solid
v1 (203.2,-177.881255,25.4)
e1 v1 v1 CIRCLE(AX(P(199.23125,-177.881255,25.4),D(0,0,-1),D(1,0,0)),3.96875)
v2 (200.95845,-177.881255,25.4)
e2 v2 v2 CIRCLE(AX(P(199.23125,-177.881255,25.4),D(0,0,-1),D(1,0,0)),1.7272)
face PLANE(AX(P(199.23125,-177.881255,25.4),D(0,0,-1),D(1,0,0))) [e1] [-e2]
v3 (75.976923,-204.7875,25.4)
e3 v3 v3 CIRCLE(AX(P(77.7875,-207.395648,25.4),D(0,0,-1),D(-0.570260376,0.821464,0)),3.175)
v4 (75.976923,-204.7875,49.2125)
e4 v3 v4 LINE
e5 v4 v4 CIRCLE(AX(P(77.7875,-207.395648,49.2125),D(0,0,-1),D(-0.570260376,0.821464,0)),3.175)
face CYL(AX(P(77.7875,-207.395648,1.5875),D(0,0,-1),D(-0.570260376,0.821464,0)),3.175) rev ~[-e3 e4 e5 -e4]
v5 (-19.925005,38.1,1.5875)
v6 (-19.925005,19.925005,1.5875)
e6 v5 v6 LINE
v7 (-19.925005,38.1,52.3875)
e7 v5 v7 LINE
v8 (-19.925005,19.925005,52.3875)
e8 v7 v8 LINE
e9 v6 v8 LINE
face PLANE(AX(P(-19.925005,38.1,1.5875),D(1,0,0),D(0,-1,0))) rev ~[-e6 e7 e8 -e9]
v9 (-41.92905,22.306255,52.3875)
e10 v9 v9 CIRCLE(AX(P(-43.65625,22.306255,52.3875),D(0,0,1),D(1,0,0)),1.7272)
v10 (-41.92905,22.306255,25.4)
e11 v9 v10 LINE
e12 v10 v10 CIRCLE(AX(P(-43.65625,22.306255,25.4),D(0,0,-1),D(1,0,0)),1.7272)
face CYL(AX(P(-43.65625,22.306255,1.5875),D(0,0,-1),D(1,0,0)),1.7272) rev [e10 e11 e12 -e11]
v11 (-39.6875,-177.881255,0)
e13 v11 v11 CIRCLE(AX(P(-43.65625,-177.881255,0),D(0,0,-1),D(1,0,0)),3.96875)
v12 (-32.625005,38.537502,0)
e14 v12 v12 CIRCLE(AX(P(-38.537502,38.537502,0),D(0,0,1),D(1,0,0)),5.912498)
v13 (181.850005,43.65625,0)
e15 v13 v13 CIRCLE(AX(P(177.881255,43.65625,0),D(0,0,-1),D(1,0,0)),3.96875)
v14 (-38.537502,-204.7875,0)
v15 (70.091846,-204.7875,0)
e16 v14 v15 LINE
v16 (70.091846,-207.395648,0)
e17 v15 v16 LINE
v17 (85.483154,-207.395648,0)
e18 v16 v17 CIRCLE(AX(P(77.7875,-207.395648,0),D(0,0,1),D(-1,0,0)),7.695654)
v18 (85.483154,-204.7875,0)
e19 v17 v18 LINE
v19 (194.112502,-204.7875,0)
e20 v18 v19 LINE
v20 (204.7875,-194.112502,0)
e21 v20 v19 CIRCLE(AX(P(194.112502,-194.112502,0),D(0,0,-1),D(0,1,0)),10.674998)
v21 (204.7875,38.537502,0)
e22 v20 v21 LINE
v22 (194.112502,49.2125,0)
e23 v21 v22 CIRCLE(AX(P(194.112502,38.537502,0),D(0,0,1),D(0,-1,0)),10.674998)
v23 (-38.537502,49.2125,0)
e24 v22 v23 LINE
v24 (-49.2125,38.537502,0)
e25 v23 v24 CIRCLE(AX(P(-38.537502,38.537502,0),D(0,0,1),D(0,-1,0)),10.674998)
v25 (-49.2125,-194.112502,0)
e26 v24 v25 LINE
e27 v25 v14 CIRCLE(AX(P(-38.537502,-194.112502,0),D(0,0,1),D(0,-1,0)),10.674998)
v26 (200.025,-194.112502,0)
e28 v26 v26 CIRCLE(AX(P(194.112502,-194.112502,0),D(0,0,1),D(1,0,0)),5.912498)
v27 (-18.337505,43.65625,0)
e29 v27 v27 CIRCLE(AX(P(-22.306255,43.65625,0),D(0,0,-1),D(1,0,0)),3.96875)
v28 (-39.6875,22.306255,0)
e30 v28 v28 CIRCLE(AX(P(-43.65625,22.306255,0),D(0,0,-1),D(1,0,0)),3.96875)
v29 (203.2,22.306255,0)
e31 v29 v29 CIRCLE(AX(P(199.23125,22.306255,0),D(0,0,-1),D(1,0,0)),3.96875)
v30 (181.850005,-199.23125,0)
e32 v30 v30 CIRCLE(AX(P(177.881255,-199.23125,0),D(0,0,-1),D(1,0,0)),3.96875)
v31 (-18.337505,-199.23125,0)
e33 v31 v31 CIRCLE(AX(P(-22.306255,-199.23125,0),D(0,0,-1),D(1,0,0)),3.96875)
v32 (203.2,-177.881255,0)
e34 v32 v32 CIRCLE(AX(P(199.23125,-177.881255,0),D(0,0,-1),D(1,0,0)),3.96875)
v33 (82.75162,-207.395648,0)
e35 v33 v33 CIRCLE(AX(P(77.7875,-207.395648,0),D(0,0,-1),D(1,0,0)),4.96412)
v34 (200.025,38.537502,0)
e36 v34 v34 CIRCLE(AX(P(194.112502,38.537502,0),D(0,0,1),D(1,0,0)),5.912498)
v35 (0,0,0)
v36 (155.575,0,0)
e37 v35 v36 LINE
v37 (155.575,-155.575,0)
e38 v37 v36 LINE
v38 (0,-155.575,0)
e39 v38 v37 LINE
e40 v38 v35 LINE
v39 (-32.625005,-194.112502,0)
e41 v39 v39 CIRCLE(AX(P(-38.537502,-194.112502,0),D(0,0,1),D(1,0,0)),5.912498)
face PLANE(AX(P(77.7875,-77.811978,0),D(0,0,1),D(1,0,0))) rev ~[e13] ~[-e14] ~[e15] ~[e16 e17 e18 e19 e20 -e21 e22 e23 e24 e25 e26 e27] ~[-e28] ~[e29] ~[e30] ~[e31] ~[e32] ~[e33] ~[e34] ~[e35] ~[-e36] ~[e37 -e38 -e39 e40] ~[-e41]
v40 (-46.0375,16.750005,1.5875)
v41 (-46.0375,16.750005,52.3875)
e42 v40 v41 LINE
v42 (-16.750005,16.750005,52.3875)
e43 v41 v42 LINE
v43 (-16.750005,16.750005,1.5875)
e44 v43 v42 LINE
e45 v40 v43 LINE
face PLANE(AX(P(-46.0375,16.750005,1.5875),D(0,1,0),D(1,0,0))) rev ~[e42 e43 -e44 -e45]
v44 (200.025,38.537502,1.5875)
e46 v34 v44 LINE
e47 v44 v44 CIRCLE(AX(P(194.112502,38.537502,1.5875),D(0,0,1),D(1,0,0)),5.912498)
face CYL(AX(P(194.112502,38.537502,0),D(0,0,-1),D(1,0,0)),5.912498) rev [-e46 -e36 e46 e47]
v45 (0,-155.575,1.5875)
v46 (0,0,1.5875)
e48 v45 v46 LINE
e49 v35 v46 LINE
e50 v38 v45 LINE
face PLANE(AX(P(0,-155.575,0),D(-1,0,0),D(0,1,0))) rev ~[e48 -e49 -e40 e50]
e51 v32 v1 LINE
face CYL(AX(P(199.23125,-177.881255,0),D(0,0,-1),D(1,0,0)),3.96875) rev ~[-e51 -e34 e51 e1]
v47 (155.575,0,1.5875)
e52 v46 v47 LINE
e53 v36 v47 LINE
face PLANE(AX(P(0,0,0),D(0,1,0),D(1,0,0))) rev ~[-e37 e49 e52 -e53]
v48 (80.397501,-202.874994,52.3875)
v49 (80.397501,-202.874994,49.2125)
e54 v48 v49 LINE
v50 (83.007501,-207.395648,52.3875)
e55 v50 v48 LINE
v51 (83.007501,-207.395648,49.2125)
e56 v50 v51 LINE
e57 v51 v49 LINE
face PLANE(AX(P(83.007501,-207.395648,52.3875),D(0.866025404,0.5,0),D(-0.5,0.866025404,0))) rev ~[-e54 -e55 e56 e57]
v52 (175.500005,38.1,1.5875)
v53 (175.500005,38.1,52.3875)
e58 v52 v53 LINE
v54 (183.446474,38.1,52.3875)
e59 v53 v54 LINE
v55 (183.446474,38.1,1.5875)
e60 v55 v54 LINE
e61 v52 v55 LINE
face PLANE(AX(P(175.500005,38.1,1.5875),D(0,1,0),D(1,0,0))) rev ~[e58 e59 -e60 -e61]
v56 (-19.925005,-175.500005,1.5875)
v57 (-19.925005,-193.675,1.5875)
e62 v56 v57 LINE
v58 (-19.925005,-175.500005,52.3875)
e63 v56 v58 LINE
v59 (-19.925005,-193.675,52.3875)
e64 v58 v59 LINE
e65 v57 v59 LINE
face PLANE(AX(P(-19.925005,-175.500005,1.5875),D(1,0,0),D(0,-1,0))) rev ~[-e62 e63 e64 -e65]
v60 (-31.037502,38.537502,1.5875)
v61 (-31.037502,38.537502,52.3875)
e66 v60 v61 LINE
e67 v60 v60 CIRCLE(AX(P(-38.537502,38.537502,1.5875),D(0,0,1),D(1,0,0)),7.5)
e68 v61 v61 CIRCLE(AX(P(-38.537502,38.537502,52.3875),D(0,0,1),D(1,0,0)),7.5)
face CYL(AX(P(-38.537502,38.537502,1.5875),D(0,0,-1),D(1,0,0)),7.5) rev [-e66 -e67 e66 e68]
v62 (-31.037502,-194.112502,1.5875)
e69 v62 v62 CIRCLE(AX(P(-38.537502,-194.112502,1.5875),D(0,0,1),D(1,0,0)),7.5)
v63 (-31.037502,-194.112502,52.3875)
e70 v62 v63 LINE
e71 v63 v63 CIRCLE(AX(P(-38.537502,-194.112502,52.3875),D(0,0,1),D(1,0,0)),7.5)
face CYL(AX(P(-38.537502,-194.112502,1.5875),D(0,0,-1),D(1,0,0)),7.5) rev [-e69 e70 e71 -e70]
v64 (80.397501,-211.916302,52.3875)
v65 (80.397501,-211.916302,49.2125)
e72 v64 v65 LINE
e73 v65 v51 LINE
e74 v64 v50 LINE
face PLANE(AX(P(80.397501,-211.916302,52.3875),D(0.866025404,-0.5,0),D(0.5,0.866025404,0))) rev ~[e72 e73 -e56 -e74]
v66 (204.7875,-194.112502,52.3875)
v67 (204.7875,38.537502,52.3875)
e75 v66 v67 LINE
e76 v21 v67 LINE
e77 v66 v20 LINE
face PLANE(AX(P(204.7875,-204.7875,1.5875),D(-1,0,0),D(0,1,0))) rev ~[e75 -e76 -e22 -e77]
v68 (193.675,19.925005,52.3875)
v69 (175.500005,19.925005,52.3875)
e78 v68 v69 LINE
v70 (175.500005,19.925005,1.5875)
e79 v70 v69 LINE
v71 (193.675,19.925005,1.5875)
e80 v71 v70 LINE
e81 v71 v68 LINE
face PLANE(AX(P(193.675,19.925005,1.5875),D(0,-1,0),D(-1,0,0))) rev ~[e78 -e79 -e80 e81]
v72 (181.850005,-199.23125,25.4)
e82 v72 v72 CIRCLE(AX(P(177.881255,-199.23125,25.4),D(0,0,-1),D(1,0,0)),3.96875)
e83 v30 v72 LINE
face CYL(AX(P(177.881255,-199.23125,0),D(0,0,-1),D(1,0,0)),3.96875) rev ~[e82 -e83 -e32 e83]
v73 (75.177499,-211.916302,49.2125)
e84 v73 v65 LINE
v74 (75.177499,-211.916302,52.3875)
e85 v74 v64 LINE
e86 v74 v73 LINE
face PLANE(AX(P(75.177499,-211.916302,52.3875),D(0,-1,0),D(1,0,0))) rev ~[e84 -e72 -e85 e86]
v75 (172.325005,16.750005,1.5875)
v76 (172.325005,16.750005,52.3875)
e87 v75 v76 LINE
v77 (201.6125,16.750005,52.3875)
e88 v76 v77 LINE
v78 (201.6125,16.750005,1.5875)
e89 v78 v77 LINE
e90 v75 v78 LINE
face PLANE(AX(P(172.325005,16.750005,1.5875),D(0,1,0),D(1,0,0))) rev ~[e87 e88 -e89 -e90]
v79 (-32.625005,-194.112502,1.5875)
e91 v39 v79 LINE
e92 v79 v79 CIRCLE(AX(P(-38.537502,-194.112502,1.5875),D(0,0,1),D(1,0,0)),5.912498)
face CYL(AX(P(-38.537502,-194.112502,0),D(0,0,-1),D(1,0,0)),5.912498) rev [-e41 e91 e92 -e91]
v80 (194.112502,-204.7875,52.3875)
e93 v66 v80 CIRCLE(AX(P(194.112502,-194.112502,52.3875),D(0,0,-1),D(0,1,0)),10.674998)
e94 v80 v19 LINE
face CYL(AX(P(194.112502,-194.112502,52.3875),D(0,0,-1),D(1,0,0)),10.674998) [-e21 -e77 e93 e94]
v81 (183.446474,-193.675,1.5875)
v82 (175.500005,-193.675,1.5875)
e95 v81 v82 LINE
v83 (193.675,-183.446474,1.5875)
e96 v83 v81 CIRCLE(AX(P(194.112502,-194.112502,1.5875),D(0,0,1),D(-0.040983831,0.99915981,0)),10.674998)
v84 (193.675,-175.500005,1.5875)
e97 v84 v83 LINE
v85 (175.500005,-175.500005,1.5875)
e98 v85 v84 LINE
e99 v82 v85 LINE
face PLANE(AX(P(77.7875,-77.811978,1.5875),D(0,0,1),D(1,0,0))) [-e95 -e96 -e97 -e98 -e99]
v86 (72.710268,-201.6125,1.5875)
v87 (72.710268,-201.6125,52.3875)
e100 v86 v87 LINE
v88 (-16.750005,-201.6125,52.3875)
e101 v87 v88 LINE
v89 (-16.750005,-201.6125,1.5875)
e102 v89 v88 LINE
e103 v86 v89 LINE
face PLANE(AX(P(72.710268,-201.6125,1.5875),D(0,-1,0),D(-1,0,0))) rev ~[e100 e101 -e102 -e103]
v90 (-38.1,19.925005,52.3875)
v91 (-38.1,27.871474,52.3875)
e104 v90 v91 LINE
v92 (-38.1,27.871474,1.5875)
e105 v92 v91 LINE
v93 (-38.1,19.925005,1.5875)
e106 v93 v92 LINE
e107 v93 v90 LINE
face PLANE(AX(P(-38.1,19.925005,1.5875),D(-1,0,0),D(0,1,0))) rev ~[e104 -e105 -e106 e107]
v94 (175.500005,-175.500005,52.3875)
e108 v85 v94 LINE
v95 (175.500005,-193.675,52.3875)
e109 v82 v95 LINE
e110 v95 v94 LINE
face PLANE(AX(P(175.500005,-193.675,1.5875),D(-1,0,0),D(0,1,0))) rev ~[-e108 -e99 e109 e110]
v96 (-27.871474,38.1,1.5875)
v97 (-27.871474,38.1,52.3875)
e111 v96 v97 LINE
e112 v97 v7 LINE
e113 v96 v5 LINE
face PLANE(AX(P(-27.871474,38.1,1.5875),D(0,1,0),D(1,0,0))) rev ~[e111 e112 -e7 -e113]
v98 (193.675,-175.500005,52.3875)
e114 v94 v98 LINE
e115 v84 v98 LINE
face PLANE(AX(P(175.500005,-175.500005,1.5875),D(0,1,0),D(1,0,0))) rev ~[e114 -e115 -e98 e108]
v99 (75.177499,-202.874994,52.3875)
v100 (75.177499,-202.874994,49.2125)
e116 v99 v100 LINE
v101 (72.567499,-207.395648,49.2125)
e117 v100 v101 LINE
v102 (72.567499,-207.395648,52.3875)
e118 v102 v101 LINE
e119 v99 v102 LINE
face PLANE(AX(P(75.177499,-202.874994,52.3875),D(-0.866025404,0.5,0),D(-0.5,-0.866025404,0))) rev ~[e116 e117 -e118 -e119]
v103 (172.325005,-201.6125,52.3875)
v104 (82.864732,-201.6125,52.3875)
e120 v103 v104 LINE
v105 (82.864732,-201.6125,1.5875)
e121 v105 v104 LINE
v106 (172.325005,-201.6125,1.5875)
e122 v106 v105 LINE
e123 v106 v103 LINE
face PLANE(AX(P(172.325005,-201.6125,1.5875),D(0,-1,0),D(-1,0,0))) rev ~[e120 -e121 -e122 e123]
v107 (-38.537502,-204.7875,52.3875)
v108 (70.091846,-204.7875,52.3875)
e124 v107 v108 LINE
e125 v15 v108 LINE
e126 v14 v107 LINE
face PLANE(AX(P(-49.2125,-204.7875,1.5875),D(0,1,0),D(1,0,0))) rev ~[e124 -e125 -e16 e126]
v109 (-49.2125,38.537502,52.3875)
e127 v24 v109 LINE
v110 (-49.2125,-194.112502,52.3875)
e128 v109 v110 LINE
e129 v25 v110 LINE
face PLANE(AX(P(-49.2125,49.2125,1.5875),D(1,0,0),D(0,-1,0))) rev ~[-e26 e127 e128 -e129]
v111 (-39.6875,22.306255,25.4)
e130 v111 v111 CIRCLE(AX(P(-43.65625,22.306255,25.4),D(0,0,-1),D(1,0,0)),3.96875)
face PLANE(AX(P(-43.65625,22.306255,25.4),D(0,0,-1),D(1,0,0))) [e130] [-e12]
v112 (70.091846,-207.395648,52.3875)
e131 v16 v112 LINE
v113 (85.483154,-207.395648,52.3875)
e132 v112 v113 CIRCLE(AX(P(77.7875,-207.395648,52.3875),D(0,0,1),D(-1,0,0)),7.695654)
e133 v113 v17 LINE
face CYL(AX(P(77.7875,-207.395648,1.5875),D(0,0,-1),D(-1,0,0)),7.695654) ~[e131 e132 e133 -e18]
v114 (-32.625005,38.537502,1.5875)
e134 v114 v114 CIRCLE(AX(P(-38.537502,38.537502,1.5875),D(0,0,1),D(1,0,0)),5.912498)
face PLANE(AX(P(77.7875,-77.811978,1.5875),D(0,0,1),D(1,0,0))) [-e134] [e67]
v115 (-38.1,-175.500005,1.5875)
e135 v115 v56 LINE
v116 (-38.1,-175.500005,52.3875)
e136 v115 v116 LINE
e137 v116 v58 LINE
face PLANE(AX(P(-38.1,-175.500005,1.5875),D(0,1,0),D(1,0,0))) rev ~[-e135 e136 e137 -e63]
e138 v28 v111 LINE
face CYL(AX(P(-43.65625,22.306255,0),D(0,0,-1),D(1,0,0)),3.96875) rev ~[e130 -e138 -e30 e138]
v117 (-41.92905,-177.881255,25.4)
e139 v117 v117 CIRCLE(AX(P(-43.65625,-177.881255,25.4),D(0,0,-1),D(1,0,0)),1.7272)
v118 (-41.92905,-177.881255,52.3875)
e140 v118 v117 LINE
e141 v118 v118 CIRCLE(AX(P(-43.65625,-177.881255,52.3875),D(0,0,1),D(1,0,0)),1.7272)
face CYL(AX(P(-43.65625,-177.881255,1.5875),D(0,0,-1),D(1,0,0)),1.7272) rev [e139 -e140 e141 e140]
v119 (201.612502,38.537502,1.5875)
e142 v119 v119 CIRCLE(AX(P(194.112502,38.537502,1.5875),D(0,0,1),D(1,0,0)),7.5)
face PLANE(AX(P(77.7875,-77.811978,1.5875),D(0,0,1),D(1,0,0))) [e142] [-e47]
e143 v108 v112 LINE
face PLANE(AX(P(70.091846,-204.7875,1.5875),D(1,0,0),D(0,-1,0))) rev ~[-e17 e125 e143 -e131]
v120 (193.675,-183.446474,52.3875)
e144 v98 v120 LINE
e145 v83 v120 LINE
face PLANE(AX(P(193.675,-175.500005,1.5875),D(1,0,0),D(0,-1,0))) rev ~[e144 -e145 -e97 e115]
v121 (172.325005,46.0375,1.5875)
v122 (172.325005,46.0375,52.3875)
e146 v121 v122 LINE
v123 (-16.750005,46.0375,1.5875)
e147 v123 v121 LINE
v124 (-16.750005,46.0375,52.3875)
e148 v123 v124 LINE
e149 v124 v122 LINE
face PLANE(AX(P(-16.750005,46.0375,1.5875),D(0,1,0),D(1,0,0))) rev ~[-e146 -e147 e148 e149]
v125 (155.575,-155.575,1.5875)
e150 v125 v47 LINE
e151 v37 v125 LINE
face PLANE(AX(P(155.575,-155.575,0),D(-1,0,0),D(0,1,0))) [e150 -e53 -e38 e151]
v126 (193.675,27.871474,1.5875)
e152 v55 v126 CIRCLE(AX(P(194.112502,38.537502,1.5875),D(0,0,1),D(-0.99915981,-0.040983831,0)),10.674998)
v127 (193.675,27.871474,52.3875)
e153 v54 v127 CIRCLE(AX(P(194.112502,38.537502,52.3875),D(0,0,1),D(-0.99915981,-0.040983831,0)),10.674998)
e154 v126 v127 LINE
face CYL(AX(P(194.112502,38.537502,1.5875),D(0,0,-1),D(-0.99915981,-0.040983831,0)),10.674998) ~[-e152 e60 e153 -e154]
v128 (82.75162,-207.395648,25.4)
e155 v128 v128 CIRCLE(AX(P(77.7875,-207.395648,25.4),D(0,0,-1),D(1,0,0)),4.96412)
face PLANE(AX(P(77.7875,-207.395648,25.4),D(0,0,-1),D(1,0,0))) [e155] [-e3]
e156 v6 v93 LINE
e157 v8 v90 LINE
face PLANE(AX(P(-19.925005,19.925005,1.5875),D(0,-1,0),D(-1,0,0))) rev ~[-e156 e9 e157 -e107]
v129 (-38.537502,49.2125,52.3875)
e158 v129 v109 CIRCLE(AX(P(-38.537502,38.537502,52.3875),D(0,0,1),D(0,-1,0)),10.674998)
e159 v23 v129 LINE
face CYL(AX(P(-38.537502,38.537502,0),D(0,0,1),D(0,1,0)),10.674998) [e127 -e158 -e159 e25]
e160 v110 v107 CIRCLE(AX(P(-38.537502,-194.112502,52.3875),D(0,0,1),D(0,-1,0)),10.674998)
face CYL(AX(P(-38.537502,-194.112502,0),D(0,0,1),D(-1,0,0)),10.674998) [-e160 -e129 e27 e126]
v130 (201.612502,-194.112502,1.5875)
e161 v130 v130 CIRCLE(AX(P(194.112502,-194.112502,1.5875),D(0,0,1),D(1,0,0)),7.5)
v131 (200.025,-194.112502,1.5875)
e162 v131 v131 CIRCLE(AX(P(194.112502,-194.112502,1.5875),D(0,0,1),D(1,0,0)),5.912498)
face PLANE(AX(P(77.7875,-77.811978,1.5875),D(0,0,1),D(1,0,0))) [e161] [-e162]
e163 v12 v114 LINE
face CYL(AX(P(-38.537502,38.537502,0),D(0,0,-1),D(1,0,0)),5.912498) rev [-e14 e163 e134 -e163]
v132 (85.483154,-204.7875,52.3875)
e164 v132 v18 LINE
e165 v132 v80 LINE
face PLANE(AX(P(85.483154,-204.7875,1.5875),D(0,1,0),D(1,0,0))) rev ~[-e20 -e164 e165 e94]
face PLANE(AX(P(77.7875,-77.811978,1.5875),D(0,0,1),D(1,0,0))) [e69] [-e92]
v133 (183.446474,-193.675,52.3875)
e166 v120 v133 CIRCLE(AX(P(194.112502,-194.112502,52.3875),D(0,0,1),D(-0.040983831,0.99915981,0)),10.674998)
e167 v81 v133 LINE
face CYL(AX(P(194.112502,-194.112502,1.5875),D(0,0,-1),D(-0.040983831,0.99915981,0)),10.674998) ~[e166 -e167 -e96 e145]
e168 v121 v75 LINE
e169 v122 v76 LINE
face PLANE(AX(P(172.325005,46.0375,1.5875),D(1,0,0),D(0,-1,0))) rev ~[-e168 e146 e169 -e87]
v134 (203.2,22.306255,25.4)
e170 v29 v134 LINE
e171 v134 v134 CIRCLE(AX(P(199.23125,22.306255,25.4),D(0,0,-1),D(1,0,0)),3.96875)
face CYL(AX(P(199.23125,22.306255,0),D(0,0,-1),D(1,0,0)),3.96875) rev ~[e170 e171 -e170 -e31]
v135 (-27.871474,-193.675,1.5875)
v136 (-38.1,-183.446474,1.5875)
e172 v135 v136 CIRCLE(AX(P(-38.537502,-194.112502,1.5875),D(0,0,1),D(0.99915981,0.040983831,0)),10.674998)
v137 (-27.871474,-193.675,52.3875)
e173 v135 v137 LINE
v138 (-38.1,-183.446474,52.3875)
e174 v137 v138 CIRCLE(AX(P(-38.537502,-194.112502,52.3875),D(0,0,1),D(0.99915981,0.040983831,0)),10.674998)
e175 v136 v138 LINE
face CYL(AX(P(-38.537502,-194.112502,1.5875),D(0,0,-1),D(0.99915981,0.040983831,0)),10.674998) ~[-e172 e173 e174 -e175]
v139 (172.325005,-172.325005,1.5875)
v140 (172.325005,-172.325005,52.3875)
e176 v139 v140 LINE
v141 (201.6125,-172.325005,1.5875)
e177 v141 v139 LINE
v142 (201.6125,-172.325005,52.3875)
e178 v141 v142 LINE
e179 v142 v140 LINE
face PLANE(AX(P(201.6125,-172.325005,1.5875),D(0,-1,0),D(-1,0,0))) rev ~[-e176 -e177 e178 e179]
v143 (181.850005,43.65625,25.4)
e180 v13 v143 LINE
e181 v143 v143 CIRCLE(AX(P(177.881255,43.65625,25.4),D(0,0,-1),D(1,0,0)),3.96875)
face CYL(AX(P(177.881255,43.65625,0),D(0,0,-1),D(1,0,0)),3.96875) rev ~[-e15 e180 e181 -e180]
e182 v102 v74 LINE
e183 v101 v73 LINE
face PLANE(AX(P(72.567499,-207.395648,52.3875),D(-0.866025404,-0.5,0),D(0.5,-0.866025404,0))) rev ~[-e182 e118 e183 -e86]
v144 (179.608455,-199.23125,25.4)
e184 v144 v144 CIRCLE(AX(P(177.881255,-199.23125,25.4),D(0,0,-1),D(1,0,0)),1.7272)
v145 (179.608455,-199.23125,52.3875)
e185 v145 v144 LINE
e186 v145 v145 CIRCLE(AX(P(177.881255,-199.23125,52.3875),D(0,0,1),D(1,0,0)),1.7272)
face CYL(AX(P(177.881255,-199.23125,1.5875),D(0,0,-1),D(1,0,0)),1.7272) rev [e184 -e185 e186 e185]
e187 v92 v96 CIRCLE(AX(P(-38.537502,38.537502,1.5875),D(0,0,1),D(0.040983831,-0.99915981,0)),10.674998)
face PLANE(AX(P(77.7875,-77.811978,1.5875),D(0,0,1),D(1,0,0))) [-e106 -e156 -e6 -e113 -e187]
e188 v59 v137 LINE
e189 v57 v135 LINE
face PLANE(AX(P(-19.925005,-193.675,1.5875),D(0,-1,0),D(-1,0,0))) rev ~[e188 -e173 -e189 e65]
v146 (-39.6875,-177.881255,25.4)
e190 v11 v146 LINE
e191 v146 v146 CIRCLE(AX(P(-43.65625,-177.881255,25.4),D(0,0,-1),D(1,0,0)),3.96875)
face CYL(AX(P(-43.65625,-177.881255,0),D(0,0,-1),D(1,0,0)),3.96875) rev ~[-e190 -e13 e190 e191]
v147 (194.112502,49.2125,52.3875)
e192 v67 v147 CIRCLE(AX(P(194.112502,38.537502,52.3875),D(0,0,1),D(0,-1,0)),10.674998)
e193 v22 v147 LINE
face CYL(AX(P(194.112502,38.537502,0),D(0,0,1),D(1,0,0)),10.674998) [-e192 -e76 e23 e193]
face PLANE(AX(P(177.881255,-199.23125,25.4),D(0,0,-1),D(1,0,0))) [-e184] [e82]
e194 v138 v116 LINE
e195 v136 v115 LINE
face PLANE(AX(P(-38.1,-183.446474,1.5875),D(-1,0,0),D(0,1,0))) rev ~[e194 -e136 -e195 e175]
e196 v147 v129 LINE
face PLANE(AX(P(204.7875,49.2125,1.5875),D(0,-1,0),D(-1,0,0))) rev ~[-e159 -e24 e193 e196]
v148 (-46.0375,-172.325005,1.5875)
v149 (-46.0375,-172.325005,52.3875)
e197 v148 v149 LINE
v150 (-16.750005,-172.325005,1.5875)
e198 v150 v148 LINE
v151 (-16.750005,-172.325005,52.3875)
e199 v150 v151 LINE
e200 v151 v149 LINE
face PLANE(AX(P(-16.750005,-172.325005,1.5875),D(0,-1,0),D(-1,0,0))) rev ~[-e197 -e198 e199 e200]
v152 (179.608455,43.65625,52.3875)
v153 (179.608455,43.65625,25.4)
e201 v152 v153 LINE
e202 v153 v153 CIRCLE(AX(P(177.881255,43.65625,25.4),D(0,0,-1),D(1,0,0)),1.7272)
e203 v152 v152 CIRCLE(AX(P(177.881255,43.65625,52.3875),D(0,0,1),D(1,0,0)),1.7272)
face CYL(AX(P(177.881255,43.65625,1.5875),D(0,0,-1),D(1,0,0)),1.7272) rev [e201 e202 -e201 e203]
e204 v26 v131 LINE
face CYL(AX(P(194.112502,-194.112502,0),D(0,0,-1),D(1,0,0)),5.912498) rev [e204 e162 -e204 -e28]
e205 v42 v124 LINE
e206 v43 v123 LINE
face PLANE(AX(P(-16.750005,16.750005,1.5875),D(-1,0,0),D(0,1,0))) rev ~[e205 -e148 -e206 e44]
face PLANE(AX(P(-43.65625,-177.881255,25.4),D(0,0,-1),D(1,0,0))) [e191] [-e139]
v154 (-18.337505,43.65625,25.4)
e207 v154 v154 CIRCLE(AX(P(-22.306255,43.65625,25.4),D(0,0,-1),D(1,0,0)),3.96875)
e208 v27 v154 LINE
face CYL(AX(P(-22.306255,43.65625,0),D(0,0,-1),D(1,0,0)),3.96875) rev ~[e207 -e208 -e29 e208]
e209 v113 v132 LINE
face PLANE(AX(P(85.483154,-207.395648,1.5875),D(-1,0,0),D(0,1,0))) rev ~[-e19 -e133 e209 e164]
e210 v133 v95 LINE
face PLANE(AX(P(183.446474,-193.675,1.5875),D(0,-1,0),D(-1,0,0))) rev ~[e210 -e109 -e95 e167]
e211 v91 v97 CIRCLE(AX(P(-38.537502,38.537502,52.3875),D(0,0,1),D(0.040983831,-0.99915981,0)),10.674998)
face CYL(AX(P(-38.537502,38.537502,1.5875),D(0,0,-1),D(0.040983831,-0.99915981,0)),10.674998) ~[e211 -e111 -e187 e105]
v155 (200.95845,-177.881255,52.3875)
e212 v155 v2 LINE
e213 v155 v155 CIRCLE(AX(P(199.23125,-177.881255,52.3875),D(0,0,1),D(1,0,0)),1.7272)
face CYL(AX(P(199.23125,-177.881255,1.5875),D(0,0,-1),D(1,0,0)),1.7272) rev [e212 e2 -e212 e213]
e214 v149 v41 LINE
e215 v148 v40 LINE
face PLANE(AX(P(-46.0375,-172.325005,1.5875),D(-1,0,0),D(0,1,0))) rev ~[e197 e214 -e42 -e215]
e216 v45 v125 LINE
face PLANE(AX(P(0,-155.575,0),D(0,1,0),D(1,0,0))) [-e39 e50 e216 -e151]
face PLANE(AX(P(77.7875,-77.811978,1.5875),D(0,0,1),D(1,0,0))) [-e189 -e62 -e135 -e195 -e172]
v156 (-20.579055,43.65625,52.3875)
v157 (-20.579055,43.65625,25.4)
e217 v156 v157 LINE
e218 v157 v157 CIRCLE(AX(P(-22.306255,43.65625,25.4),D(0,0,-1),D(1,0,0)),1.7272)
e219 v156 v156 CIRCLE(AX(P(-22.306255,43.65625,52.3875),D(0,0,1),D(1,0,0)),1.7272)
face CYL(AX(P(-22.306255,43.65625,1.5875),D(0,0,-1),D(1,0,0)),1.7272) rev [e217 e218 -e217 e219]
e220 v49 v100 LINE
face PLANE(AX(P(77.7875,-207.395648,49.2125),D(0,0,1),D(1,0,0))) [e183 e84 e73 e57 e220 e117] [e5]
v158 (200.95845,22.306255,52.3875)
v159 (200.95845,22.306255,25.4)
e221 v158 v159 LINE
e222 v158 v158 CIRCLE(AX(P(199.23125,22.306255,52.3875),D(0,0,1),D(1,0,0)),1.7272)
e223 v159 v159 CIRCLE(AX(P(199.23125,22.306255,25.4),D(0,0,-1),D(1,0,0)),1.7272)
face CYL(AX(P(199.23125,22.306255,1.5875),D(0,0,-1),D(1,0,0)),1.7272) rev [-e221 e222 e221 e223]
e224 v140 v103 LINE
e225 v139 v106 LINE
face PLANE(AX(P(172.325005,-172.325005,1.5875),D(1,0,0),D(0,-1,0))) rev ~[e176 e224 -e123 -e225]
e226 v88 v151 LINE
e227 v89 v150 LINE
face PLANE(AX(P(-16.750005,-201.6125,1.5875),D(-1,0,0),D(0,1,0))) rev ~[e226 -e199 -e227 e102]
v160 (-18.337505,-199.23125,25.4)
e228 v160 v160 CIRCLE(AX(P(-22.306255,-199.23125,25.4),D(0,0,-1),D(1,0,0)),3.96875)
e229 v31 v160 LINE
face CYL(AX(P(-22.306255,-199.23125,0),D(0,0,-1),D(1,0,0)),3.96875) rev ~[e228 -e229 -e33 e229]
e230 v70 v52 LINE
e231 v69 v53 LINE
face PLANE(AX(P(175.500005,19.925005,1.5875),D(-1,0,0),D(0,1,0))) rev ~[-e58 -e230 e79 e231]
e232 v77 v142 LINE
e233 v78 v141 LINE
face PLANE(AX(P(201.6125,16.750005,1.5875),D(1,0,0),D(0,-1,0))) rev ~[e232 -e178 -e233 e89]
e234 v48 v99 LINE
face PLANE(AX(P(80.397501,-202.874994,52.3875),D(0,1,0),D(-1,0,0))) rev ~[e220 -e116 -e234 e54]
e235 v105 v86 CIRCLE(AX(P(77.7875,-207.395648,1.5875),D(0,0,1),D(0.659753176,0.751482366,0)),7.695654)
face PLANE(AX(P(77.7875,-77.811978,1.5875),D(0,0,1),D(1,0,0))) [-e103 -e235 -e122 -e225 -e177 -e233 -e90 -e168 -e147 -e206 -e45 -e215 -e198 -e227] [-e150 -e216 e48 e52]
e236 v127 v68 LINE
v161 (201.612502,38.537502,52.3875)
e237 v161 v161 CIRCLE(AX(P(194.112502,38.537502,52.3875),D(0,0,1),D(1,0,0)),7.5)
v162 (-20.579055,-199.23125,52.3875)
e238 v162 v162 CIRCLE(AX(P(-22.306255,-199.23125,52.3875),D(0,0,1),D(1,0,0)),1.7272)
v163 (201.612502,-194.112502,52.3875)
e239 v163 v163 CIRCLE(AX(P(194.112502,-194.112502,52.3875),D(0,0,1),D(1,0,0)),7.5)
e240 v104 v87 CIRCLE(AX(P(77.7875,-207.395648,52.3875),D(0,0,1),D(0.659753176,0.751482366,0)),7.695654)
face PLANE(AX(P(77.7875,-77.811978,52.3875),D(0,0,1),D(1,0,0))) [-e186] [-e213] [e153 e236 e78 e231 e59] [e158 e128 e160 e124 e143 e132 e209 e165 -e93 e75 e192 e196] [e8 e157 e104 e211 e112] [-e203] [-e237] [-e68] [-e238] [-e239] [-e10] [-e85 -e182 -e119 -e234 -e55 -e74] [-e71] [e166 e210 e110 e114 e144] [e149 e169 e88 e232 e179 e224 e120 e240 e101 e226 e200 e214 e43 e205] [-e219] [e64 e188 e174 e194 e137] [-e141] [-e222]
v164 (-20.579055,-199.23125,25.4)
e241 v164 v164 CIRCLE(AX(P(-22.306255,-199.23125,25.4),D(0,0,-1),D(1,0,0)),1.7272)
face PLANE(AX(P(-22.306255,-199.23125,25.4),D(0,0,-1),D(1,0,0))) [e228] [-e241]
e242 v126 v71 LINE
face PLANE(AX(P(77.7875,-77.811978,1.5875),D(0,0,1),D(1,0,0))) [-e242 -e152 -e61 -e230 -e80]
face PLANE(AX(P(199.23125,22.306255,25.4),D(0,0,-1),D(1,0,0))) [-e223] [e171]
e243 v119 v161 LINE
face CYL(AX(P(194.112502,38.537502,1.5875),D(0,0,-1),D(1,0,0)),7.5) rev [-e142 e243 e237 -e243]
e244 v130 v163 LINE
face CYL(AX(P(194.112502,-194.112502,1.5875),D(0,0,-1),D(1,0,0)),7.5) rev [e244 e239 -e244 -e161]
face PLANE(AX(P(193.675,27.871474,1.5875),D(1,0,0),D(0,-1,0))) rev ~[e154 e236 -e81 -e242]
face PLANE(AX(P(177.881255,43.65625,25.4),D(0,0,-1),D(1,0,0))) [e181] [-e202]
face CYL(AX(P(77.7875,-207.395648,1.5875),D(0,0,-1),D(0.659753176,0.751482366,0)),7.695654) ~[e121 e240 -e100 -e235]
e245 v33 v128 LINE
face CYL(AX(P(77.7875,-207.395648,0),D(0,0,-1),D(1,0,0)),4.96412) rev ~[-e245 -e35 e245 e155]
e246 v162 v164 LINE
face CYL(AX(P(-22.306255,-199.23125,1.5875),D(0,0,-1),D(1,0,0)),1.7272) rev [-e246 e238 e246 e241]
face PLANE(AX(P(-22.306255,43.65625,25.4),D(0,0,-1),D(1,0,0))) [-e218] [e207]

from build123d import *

# Parameters (mm, degrees)
F0_R      = 1.7272
F0_R_2    = 5.9124977
F0_W      = 155.575
F0_H      = 155.575
F1_DEPTH  = 1.5875
F2_R      = 1.7272
F2_R_2    = 7.5
F3_DEPTH  = 50.8
F4_R      = 3.96875
F5_DEPTH  = 25.4
F6_R      = 10.6749977
F9_DEPTH  = 3.175
F7_R      = 4.9641200318
F10_DEPTH = 25.4


with BuildPart() as f1:
    # F0 (on Top) → F1 (new body)
    with BuildSketch(Plane.XY):
        with BuildLine():
            Line((204.7875, -204.7875), (204.7875, 49.2125))
            Line((204.7875, 49.2125), (-49.2125, 49.2125))
            Line((-49.2125, 49.2125), (-49.2125, -204.7875))
            Line((-49.2125, -204.7875), (70.0918461, -204.7875))
            Line((70.0918461, -204.7875), (75.9769233055, -204.7875))
            ThreePointArc((75.9769233055, -204.7875), (77.7875, -204.2206482), (79.5980766945, -204.7875))
            Line((79.5980766945, -204.7875), (85.4831539, -204.7875))
            Line((85.4831539, -204.7875), (204.7875, -204.7875))
        make_face()
        with Locations((-22.3062546, -199.23125)):
            Circle(F0_R, mode=Mode.SUBTRACT)
        with Locations((-38.5375023, -194.1125023)):
            Circle(F0_R_2, mode=Mode.SUBTRACT)
        with Locations((-43.65625, -177.8812546)):
            Circle(F0_R, mode=Mode.SUBTRACT)
        with Locations((177.8812546, -199.23125)):
            Circle(F0_R, mode=Mode.SUBTRACT)
        with Locations((194.1125023, -194.1125023)):
            Circle(F0_R_2, mode=Mode.SUBTRACT)
        with Locations((199.23125, -177.8812546)):
            Circle(F0_R, mode=Mode.SUBTRACT)
        with Locations((-43.65625, 22.3062546)):
            Circle(F0_R, mode=Mode.SUBTRACT)
        with Locations((-38.5375023, 38.5375023)):
            Circle(F0_R_2, mode=Mode.SUBTRACT)
        with Locations((-22.3062546, 43.65625)):
            Circle(F0_R, mode=Mode.SUBTRACT)
        with Locations((77.7875, -77.7875)):
            Rectangle(F0_W, F0_H, mode=Mode.SUBTRACT)
        with Locations((199.23125, 22.3062546)):
            Circle(F0_R, mode=Mode.SUBTRACT)
        with Locations((177.8812546, 43.65625)):
            Circle(F0_R, mode=Mode.SUBTRACT)
        with Locations((194.1125023, 38.5375023)):
            Circle(F0_R_2, mode=Mode.SUBTRACT)
        with BuildLine():
            Line((85.4831539, -207.3956482), (85.4831539, -204.7875))
            Line((85.4831539, -204.7875), (79.5980766945, -204.7875))
            ThreePointArc((79.5980766945, -204.7875), (80.6007904227, -205.9239070552), (80.9625, -207.3956482))
            ThreePointArc((80.9625, -207.3956482), (76.3157588552, -210.2089386227), (75.9769233055, -204.7875))
            Line((75.9769233055, -204.7875), (70.0918461, -204.7875))
            Line((70.0918461, -204.7875), (70.0918461, -207.3956482))
            ThreePointArc((70.0918461, -207.3956482), (77.7875, -215.0913021), (85.4831539, -207.3956482))
        make_face()
    extrude(amount=F1_DEPTH)

    # F2 (on face) → F3 (join)
    with BuildSketch(Plane.XY.offset(1.5875)):
        with BuildLine():
            Line((204.7875, -204.7875), (204.7875, 49.2125))
            Line((204.7875, 49.2125), (-49.2125, 49.2125))
            Line((-49.2125, 49.2125), (-49.2125, -204.7875))
            Line((-49.2125, -204.7875), (70.0918461, -204.7875))
            Line((70.0918461, -204.7875), (75.9769233055, -204.7875))
            ThreePointArc((75.9769233055, -204.7875), (77.7875, -204.2206482), (79.5980766945, -204.7875))
            Line((79.5980766945, -204.7875), (85.4831539, -204.7875))
            Line((85.4831539, -204.7875), (204.7875, -204.7875))
        make_face()
        with Locations((-22.3062546, -199.23125)):
            Circle(F2_R, mode=Mode.SUBTRACT)
        with Locations((-38.5375023, -194.1125023)):
            Circle(F2_R_2, mode=Mode.SUBTRACT)
        with BuildLine():
            Line((-38.1, -175.5000046), (-19.9250046, -175.5000046))
            Line((-19.9250046, -175.5000046), (-19.9250046, -193.675))
            Line((-19.9250046, -193.675), (-27.871473628, -193.675))
            ThreePointArc((-27.871473628, -193.675), (-30.9891390372, -186.5641390372), (-38.1, -183.446473628))
            Line((-38.1, -183.446473628), (-38.1, -175.5000046))
        make_face(mode=Mode.SUBTRACT)
        with Locations((-43.65625, -177.8812546)):
            Circle(F2_R, mode=Mode.SUBTRACT)
        with Locations((177.8812546, -199.23125)):
            Circle(F2_R, mode=Mode.SUBTRACT)
        with BuildLine():
            Line((175.5000046, -193.675), (175.5000046, -175.5000046))
            Line((175.5000046, -175.5000046), (193.675, -175.5000046))
            Line((193.675, -175.5000046), (193.675, -183.446473628))
            ThreePointArc((193.675, -183.446473628), (186.5641390372, -186.5641390372), (183.446473628, -193.675))
            Line((183.446473628, -193.675), (175.5000046, -193.675))
        make_face(mode=Mode.SUBTRACT)
        with Locations((194.1125023, -194.1125023)):
            Circle(F2_R_2, mode=Mode.SUBTRACT)
        with Locations((199.23125, -177.8812546)):
            Circle(F2_R, mode=Mode.SUBTRACT)
        with Locations((-43.65625, 22.3062546)):
            Circle(F2_R, mode=Mode.SUBTRACT)
        with BuildLine():
            Line((-19.9250046, 38.1), (-19.9250046, 19.9250046))
            Line((-19.9250046, 19.9250046), (-38.1, 19.9250046))
            Line((-38.1, 19.9250046), (-38.1, 27.871473628))
            ThreePointArc((-38.1, 27.871473628), (-30.9891390372, 30.9891390372), (-27.871473628, 38.1))
            Line((-27.871473628, 38.1), (-19.9250046, 38.1))
        make_face(mode=Mode.SUBTRACT)
        with Locations((-38.5375023, 38.5375023)):
            Circle(F2_R_2, mode=Mode.SUBTRACT)
        with Locations((-22.3062546, 43.65625)):
            Circle(F2_R, mode=Mode.SUBTRACT)
        Polygon((-16.7500046, 46.0375), (172.3250046, 46.0375), (172.3250046, 16.7500046), (201.6125, 16.7500046), (201.6125, -172.3250046), (172.3250046, -172.3250046), (172.3250046, -201.6125), (82.8647321047, -201.6125), (72.7102678953, -201.6125), (-16.7500046, -201.6125), (-16.7500046, -172.3250046), (-46.0375, -172.3250046), (-46.0375, 16.7500046), (-16.7500046, 16.7500046), align=None, mode=Mode.SUBTRACT)
        with BuildLine():
            Line((193.675, 19.9250046), (175.5000046, 19.9250046))
            Line((175.5000046, 19.9250046), (175.5000046, 38.1))
            Line((175.5000046, 38.1), (183.446473628, 38.1))
            ThreePointArc((183.446473628, 38.1), (186.5641390372, 30.9891390372), (193.675, 27.871473628))
            Line((193.675, 27.871473628), (193.675, 19.9250046))
        make_face(mode=Mode.SUBTRACT)
        with Locations((199.23125, 22.3062546)):
            Circle(F2_R, mode=Mode.SUBTRACT)
        with Locations((177.8812546, 43.65625)):
            Circle(F2_R, mode=Mode.SUBTRACT)
        with Locations((194.1125023, 38.5375023)):
            Circle(F2_R_2, mode=Mode.SUBTRACT)
        with BuildLine():
            Line((85.4831539, -207.3956482), (85.4831539, -204.7875))
            Line((85.4831539, -204.7875), (79.5980766945, -204.7875))
            ThreePointArc((79.5980766945, -204.7875), (80.6007904227, -205.9239070552), (80.9625, -207.3956482))
            ThreePointArc((80.9625, -207.3956482), (76.3157588552, -210.2089386227), (75.9769233055, -204.7875))
            Line((75.9769233055, -204.7875), (70.0918461, -204.7875))
            Line((70.0918461, -204.7875), (70.0918461, -207.3956482))
            ThreePointArc((70.0918461, -207.3956482), (77.7875, -215.0913021), (85.4831539, -207.3956482))
        make_face()
        with BuildLine():
            Line((72.7102678953, -201.6125), (82.8647321047, -201.6125))
            ThreePointArc((82.8647321047, -201.6125), (77.7875, -199.6999943), (72.7102678953, -201.6125))
        make_face()
    extrude(amount=F3_DEPTH)

    # F4 (on face) → F5 (cut)
    with BuildSketch(Plane(origin=(0, 0, 0), x_dir=(1, 0, 0), z_dir=(0, 0, -1))):
        with Locations((-43.65625, -22.3062546)):
            Circle(F4_R)
        with Locations((-22.3062546, -43.65625)):
            Circle(F4_R)
        with Locations((-43.65625, 177.8812546)):
            Circle(F4_R)
        with Locations((-22.3062546, 199.23125)):
            Circle(F4_R)
        with Locations((199.23125, 177.8812546)):
            Circle(F4_R)
        with Locations((177.8812546, 199.23125)):
            Circle(F4_R)
        with Locations((177.8812546, -43.65625)):
            Circle(F4_R)
        with Locations((199.23125, -22.3062546)):
            Circle(F4_R)
    extrude(amount=-F5_DEPTH, mode=Mode.SUBTRACT)

    # F6
    f6_edges = [f1.edges().sort_by_distance(p)[0] for p in [
        (204.7875, 49.2125, 26.19375),
        (204.7875, -204.7875, 26.19375),
        (-49.2125, -204.7875, 26.19375),
        (-49.2125, 49.2125, 26.19375),
    ]]
    fillet(f6_edges, radius=F6_R)

    # F8 (on face) → F9 (cut)
    with BuildSketch(Plane.XY.offset(52.3875)):
        Polygon((75.1774992539, -211.9163021), (80.3975007461, -211.9163021), (83.0075014922, -207.3956482), (80.3975007461, -202.8749943), (75.1774992539, -202.8749943), (72.5674985078, -207.3956482), align=None)
    extrude(amount=-F9_DEPTH, mode=Mode.SUBTRACT)

    # F7 (on face) → F10 (cut)
    with BuildSketch(Plane(origin=(0, 0, 0), x_dir=(1, 0, 0), z_dir=(0, 0, -1))):
        with Locations((77.7875, 207.3956482)):
            Circle(F7_R)
    extrude(amount=-F10_DEPTH, mode=Mode.SUBTRACT)


solid = f1.part
